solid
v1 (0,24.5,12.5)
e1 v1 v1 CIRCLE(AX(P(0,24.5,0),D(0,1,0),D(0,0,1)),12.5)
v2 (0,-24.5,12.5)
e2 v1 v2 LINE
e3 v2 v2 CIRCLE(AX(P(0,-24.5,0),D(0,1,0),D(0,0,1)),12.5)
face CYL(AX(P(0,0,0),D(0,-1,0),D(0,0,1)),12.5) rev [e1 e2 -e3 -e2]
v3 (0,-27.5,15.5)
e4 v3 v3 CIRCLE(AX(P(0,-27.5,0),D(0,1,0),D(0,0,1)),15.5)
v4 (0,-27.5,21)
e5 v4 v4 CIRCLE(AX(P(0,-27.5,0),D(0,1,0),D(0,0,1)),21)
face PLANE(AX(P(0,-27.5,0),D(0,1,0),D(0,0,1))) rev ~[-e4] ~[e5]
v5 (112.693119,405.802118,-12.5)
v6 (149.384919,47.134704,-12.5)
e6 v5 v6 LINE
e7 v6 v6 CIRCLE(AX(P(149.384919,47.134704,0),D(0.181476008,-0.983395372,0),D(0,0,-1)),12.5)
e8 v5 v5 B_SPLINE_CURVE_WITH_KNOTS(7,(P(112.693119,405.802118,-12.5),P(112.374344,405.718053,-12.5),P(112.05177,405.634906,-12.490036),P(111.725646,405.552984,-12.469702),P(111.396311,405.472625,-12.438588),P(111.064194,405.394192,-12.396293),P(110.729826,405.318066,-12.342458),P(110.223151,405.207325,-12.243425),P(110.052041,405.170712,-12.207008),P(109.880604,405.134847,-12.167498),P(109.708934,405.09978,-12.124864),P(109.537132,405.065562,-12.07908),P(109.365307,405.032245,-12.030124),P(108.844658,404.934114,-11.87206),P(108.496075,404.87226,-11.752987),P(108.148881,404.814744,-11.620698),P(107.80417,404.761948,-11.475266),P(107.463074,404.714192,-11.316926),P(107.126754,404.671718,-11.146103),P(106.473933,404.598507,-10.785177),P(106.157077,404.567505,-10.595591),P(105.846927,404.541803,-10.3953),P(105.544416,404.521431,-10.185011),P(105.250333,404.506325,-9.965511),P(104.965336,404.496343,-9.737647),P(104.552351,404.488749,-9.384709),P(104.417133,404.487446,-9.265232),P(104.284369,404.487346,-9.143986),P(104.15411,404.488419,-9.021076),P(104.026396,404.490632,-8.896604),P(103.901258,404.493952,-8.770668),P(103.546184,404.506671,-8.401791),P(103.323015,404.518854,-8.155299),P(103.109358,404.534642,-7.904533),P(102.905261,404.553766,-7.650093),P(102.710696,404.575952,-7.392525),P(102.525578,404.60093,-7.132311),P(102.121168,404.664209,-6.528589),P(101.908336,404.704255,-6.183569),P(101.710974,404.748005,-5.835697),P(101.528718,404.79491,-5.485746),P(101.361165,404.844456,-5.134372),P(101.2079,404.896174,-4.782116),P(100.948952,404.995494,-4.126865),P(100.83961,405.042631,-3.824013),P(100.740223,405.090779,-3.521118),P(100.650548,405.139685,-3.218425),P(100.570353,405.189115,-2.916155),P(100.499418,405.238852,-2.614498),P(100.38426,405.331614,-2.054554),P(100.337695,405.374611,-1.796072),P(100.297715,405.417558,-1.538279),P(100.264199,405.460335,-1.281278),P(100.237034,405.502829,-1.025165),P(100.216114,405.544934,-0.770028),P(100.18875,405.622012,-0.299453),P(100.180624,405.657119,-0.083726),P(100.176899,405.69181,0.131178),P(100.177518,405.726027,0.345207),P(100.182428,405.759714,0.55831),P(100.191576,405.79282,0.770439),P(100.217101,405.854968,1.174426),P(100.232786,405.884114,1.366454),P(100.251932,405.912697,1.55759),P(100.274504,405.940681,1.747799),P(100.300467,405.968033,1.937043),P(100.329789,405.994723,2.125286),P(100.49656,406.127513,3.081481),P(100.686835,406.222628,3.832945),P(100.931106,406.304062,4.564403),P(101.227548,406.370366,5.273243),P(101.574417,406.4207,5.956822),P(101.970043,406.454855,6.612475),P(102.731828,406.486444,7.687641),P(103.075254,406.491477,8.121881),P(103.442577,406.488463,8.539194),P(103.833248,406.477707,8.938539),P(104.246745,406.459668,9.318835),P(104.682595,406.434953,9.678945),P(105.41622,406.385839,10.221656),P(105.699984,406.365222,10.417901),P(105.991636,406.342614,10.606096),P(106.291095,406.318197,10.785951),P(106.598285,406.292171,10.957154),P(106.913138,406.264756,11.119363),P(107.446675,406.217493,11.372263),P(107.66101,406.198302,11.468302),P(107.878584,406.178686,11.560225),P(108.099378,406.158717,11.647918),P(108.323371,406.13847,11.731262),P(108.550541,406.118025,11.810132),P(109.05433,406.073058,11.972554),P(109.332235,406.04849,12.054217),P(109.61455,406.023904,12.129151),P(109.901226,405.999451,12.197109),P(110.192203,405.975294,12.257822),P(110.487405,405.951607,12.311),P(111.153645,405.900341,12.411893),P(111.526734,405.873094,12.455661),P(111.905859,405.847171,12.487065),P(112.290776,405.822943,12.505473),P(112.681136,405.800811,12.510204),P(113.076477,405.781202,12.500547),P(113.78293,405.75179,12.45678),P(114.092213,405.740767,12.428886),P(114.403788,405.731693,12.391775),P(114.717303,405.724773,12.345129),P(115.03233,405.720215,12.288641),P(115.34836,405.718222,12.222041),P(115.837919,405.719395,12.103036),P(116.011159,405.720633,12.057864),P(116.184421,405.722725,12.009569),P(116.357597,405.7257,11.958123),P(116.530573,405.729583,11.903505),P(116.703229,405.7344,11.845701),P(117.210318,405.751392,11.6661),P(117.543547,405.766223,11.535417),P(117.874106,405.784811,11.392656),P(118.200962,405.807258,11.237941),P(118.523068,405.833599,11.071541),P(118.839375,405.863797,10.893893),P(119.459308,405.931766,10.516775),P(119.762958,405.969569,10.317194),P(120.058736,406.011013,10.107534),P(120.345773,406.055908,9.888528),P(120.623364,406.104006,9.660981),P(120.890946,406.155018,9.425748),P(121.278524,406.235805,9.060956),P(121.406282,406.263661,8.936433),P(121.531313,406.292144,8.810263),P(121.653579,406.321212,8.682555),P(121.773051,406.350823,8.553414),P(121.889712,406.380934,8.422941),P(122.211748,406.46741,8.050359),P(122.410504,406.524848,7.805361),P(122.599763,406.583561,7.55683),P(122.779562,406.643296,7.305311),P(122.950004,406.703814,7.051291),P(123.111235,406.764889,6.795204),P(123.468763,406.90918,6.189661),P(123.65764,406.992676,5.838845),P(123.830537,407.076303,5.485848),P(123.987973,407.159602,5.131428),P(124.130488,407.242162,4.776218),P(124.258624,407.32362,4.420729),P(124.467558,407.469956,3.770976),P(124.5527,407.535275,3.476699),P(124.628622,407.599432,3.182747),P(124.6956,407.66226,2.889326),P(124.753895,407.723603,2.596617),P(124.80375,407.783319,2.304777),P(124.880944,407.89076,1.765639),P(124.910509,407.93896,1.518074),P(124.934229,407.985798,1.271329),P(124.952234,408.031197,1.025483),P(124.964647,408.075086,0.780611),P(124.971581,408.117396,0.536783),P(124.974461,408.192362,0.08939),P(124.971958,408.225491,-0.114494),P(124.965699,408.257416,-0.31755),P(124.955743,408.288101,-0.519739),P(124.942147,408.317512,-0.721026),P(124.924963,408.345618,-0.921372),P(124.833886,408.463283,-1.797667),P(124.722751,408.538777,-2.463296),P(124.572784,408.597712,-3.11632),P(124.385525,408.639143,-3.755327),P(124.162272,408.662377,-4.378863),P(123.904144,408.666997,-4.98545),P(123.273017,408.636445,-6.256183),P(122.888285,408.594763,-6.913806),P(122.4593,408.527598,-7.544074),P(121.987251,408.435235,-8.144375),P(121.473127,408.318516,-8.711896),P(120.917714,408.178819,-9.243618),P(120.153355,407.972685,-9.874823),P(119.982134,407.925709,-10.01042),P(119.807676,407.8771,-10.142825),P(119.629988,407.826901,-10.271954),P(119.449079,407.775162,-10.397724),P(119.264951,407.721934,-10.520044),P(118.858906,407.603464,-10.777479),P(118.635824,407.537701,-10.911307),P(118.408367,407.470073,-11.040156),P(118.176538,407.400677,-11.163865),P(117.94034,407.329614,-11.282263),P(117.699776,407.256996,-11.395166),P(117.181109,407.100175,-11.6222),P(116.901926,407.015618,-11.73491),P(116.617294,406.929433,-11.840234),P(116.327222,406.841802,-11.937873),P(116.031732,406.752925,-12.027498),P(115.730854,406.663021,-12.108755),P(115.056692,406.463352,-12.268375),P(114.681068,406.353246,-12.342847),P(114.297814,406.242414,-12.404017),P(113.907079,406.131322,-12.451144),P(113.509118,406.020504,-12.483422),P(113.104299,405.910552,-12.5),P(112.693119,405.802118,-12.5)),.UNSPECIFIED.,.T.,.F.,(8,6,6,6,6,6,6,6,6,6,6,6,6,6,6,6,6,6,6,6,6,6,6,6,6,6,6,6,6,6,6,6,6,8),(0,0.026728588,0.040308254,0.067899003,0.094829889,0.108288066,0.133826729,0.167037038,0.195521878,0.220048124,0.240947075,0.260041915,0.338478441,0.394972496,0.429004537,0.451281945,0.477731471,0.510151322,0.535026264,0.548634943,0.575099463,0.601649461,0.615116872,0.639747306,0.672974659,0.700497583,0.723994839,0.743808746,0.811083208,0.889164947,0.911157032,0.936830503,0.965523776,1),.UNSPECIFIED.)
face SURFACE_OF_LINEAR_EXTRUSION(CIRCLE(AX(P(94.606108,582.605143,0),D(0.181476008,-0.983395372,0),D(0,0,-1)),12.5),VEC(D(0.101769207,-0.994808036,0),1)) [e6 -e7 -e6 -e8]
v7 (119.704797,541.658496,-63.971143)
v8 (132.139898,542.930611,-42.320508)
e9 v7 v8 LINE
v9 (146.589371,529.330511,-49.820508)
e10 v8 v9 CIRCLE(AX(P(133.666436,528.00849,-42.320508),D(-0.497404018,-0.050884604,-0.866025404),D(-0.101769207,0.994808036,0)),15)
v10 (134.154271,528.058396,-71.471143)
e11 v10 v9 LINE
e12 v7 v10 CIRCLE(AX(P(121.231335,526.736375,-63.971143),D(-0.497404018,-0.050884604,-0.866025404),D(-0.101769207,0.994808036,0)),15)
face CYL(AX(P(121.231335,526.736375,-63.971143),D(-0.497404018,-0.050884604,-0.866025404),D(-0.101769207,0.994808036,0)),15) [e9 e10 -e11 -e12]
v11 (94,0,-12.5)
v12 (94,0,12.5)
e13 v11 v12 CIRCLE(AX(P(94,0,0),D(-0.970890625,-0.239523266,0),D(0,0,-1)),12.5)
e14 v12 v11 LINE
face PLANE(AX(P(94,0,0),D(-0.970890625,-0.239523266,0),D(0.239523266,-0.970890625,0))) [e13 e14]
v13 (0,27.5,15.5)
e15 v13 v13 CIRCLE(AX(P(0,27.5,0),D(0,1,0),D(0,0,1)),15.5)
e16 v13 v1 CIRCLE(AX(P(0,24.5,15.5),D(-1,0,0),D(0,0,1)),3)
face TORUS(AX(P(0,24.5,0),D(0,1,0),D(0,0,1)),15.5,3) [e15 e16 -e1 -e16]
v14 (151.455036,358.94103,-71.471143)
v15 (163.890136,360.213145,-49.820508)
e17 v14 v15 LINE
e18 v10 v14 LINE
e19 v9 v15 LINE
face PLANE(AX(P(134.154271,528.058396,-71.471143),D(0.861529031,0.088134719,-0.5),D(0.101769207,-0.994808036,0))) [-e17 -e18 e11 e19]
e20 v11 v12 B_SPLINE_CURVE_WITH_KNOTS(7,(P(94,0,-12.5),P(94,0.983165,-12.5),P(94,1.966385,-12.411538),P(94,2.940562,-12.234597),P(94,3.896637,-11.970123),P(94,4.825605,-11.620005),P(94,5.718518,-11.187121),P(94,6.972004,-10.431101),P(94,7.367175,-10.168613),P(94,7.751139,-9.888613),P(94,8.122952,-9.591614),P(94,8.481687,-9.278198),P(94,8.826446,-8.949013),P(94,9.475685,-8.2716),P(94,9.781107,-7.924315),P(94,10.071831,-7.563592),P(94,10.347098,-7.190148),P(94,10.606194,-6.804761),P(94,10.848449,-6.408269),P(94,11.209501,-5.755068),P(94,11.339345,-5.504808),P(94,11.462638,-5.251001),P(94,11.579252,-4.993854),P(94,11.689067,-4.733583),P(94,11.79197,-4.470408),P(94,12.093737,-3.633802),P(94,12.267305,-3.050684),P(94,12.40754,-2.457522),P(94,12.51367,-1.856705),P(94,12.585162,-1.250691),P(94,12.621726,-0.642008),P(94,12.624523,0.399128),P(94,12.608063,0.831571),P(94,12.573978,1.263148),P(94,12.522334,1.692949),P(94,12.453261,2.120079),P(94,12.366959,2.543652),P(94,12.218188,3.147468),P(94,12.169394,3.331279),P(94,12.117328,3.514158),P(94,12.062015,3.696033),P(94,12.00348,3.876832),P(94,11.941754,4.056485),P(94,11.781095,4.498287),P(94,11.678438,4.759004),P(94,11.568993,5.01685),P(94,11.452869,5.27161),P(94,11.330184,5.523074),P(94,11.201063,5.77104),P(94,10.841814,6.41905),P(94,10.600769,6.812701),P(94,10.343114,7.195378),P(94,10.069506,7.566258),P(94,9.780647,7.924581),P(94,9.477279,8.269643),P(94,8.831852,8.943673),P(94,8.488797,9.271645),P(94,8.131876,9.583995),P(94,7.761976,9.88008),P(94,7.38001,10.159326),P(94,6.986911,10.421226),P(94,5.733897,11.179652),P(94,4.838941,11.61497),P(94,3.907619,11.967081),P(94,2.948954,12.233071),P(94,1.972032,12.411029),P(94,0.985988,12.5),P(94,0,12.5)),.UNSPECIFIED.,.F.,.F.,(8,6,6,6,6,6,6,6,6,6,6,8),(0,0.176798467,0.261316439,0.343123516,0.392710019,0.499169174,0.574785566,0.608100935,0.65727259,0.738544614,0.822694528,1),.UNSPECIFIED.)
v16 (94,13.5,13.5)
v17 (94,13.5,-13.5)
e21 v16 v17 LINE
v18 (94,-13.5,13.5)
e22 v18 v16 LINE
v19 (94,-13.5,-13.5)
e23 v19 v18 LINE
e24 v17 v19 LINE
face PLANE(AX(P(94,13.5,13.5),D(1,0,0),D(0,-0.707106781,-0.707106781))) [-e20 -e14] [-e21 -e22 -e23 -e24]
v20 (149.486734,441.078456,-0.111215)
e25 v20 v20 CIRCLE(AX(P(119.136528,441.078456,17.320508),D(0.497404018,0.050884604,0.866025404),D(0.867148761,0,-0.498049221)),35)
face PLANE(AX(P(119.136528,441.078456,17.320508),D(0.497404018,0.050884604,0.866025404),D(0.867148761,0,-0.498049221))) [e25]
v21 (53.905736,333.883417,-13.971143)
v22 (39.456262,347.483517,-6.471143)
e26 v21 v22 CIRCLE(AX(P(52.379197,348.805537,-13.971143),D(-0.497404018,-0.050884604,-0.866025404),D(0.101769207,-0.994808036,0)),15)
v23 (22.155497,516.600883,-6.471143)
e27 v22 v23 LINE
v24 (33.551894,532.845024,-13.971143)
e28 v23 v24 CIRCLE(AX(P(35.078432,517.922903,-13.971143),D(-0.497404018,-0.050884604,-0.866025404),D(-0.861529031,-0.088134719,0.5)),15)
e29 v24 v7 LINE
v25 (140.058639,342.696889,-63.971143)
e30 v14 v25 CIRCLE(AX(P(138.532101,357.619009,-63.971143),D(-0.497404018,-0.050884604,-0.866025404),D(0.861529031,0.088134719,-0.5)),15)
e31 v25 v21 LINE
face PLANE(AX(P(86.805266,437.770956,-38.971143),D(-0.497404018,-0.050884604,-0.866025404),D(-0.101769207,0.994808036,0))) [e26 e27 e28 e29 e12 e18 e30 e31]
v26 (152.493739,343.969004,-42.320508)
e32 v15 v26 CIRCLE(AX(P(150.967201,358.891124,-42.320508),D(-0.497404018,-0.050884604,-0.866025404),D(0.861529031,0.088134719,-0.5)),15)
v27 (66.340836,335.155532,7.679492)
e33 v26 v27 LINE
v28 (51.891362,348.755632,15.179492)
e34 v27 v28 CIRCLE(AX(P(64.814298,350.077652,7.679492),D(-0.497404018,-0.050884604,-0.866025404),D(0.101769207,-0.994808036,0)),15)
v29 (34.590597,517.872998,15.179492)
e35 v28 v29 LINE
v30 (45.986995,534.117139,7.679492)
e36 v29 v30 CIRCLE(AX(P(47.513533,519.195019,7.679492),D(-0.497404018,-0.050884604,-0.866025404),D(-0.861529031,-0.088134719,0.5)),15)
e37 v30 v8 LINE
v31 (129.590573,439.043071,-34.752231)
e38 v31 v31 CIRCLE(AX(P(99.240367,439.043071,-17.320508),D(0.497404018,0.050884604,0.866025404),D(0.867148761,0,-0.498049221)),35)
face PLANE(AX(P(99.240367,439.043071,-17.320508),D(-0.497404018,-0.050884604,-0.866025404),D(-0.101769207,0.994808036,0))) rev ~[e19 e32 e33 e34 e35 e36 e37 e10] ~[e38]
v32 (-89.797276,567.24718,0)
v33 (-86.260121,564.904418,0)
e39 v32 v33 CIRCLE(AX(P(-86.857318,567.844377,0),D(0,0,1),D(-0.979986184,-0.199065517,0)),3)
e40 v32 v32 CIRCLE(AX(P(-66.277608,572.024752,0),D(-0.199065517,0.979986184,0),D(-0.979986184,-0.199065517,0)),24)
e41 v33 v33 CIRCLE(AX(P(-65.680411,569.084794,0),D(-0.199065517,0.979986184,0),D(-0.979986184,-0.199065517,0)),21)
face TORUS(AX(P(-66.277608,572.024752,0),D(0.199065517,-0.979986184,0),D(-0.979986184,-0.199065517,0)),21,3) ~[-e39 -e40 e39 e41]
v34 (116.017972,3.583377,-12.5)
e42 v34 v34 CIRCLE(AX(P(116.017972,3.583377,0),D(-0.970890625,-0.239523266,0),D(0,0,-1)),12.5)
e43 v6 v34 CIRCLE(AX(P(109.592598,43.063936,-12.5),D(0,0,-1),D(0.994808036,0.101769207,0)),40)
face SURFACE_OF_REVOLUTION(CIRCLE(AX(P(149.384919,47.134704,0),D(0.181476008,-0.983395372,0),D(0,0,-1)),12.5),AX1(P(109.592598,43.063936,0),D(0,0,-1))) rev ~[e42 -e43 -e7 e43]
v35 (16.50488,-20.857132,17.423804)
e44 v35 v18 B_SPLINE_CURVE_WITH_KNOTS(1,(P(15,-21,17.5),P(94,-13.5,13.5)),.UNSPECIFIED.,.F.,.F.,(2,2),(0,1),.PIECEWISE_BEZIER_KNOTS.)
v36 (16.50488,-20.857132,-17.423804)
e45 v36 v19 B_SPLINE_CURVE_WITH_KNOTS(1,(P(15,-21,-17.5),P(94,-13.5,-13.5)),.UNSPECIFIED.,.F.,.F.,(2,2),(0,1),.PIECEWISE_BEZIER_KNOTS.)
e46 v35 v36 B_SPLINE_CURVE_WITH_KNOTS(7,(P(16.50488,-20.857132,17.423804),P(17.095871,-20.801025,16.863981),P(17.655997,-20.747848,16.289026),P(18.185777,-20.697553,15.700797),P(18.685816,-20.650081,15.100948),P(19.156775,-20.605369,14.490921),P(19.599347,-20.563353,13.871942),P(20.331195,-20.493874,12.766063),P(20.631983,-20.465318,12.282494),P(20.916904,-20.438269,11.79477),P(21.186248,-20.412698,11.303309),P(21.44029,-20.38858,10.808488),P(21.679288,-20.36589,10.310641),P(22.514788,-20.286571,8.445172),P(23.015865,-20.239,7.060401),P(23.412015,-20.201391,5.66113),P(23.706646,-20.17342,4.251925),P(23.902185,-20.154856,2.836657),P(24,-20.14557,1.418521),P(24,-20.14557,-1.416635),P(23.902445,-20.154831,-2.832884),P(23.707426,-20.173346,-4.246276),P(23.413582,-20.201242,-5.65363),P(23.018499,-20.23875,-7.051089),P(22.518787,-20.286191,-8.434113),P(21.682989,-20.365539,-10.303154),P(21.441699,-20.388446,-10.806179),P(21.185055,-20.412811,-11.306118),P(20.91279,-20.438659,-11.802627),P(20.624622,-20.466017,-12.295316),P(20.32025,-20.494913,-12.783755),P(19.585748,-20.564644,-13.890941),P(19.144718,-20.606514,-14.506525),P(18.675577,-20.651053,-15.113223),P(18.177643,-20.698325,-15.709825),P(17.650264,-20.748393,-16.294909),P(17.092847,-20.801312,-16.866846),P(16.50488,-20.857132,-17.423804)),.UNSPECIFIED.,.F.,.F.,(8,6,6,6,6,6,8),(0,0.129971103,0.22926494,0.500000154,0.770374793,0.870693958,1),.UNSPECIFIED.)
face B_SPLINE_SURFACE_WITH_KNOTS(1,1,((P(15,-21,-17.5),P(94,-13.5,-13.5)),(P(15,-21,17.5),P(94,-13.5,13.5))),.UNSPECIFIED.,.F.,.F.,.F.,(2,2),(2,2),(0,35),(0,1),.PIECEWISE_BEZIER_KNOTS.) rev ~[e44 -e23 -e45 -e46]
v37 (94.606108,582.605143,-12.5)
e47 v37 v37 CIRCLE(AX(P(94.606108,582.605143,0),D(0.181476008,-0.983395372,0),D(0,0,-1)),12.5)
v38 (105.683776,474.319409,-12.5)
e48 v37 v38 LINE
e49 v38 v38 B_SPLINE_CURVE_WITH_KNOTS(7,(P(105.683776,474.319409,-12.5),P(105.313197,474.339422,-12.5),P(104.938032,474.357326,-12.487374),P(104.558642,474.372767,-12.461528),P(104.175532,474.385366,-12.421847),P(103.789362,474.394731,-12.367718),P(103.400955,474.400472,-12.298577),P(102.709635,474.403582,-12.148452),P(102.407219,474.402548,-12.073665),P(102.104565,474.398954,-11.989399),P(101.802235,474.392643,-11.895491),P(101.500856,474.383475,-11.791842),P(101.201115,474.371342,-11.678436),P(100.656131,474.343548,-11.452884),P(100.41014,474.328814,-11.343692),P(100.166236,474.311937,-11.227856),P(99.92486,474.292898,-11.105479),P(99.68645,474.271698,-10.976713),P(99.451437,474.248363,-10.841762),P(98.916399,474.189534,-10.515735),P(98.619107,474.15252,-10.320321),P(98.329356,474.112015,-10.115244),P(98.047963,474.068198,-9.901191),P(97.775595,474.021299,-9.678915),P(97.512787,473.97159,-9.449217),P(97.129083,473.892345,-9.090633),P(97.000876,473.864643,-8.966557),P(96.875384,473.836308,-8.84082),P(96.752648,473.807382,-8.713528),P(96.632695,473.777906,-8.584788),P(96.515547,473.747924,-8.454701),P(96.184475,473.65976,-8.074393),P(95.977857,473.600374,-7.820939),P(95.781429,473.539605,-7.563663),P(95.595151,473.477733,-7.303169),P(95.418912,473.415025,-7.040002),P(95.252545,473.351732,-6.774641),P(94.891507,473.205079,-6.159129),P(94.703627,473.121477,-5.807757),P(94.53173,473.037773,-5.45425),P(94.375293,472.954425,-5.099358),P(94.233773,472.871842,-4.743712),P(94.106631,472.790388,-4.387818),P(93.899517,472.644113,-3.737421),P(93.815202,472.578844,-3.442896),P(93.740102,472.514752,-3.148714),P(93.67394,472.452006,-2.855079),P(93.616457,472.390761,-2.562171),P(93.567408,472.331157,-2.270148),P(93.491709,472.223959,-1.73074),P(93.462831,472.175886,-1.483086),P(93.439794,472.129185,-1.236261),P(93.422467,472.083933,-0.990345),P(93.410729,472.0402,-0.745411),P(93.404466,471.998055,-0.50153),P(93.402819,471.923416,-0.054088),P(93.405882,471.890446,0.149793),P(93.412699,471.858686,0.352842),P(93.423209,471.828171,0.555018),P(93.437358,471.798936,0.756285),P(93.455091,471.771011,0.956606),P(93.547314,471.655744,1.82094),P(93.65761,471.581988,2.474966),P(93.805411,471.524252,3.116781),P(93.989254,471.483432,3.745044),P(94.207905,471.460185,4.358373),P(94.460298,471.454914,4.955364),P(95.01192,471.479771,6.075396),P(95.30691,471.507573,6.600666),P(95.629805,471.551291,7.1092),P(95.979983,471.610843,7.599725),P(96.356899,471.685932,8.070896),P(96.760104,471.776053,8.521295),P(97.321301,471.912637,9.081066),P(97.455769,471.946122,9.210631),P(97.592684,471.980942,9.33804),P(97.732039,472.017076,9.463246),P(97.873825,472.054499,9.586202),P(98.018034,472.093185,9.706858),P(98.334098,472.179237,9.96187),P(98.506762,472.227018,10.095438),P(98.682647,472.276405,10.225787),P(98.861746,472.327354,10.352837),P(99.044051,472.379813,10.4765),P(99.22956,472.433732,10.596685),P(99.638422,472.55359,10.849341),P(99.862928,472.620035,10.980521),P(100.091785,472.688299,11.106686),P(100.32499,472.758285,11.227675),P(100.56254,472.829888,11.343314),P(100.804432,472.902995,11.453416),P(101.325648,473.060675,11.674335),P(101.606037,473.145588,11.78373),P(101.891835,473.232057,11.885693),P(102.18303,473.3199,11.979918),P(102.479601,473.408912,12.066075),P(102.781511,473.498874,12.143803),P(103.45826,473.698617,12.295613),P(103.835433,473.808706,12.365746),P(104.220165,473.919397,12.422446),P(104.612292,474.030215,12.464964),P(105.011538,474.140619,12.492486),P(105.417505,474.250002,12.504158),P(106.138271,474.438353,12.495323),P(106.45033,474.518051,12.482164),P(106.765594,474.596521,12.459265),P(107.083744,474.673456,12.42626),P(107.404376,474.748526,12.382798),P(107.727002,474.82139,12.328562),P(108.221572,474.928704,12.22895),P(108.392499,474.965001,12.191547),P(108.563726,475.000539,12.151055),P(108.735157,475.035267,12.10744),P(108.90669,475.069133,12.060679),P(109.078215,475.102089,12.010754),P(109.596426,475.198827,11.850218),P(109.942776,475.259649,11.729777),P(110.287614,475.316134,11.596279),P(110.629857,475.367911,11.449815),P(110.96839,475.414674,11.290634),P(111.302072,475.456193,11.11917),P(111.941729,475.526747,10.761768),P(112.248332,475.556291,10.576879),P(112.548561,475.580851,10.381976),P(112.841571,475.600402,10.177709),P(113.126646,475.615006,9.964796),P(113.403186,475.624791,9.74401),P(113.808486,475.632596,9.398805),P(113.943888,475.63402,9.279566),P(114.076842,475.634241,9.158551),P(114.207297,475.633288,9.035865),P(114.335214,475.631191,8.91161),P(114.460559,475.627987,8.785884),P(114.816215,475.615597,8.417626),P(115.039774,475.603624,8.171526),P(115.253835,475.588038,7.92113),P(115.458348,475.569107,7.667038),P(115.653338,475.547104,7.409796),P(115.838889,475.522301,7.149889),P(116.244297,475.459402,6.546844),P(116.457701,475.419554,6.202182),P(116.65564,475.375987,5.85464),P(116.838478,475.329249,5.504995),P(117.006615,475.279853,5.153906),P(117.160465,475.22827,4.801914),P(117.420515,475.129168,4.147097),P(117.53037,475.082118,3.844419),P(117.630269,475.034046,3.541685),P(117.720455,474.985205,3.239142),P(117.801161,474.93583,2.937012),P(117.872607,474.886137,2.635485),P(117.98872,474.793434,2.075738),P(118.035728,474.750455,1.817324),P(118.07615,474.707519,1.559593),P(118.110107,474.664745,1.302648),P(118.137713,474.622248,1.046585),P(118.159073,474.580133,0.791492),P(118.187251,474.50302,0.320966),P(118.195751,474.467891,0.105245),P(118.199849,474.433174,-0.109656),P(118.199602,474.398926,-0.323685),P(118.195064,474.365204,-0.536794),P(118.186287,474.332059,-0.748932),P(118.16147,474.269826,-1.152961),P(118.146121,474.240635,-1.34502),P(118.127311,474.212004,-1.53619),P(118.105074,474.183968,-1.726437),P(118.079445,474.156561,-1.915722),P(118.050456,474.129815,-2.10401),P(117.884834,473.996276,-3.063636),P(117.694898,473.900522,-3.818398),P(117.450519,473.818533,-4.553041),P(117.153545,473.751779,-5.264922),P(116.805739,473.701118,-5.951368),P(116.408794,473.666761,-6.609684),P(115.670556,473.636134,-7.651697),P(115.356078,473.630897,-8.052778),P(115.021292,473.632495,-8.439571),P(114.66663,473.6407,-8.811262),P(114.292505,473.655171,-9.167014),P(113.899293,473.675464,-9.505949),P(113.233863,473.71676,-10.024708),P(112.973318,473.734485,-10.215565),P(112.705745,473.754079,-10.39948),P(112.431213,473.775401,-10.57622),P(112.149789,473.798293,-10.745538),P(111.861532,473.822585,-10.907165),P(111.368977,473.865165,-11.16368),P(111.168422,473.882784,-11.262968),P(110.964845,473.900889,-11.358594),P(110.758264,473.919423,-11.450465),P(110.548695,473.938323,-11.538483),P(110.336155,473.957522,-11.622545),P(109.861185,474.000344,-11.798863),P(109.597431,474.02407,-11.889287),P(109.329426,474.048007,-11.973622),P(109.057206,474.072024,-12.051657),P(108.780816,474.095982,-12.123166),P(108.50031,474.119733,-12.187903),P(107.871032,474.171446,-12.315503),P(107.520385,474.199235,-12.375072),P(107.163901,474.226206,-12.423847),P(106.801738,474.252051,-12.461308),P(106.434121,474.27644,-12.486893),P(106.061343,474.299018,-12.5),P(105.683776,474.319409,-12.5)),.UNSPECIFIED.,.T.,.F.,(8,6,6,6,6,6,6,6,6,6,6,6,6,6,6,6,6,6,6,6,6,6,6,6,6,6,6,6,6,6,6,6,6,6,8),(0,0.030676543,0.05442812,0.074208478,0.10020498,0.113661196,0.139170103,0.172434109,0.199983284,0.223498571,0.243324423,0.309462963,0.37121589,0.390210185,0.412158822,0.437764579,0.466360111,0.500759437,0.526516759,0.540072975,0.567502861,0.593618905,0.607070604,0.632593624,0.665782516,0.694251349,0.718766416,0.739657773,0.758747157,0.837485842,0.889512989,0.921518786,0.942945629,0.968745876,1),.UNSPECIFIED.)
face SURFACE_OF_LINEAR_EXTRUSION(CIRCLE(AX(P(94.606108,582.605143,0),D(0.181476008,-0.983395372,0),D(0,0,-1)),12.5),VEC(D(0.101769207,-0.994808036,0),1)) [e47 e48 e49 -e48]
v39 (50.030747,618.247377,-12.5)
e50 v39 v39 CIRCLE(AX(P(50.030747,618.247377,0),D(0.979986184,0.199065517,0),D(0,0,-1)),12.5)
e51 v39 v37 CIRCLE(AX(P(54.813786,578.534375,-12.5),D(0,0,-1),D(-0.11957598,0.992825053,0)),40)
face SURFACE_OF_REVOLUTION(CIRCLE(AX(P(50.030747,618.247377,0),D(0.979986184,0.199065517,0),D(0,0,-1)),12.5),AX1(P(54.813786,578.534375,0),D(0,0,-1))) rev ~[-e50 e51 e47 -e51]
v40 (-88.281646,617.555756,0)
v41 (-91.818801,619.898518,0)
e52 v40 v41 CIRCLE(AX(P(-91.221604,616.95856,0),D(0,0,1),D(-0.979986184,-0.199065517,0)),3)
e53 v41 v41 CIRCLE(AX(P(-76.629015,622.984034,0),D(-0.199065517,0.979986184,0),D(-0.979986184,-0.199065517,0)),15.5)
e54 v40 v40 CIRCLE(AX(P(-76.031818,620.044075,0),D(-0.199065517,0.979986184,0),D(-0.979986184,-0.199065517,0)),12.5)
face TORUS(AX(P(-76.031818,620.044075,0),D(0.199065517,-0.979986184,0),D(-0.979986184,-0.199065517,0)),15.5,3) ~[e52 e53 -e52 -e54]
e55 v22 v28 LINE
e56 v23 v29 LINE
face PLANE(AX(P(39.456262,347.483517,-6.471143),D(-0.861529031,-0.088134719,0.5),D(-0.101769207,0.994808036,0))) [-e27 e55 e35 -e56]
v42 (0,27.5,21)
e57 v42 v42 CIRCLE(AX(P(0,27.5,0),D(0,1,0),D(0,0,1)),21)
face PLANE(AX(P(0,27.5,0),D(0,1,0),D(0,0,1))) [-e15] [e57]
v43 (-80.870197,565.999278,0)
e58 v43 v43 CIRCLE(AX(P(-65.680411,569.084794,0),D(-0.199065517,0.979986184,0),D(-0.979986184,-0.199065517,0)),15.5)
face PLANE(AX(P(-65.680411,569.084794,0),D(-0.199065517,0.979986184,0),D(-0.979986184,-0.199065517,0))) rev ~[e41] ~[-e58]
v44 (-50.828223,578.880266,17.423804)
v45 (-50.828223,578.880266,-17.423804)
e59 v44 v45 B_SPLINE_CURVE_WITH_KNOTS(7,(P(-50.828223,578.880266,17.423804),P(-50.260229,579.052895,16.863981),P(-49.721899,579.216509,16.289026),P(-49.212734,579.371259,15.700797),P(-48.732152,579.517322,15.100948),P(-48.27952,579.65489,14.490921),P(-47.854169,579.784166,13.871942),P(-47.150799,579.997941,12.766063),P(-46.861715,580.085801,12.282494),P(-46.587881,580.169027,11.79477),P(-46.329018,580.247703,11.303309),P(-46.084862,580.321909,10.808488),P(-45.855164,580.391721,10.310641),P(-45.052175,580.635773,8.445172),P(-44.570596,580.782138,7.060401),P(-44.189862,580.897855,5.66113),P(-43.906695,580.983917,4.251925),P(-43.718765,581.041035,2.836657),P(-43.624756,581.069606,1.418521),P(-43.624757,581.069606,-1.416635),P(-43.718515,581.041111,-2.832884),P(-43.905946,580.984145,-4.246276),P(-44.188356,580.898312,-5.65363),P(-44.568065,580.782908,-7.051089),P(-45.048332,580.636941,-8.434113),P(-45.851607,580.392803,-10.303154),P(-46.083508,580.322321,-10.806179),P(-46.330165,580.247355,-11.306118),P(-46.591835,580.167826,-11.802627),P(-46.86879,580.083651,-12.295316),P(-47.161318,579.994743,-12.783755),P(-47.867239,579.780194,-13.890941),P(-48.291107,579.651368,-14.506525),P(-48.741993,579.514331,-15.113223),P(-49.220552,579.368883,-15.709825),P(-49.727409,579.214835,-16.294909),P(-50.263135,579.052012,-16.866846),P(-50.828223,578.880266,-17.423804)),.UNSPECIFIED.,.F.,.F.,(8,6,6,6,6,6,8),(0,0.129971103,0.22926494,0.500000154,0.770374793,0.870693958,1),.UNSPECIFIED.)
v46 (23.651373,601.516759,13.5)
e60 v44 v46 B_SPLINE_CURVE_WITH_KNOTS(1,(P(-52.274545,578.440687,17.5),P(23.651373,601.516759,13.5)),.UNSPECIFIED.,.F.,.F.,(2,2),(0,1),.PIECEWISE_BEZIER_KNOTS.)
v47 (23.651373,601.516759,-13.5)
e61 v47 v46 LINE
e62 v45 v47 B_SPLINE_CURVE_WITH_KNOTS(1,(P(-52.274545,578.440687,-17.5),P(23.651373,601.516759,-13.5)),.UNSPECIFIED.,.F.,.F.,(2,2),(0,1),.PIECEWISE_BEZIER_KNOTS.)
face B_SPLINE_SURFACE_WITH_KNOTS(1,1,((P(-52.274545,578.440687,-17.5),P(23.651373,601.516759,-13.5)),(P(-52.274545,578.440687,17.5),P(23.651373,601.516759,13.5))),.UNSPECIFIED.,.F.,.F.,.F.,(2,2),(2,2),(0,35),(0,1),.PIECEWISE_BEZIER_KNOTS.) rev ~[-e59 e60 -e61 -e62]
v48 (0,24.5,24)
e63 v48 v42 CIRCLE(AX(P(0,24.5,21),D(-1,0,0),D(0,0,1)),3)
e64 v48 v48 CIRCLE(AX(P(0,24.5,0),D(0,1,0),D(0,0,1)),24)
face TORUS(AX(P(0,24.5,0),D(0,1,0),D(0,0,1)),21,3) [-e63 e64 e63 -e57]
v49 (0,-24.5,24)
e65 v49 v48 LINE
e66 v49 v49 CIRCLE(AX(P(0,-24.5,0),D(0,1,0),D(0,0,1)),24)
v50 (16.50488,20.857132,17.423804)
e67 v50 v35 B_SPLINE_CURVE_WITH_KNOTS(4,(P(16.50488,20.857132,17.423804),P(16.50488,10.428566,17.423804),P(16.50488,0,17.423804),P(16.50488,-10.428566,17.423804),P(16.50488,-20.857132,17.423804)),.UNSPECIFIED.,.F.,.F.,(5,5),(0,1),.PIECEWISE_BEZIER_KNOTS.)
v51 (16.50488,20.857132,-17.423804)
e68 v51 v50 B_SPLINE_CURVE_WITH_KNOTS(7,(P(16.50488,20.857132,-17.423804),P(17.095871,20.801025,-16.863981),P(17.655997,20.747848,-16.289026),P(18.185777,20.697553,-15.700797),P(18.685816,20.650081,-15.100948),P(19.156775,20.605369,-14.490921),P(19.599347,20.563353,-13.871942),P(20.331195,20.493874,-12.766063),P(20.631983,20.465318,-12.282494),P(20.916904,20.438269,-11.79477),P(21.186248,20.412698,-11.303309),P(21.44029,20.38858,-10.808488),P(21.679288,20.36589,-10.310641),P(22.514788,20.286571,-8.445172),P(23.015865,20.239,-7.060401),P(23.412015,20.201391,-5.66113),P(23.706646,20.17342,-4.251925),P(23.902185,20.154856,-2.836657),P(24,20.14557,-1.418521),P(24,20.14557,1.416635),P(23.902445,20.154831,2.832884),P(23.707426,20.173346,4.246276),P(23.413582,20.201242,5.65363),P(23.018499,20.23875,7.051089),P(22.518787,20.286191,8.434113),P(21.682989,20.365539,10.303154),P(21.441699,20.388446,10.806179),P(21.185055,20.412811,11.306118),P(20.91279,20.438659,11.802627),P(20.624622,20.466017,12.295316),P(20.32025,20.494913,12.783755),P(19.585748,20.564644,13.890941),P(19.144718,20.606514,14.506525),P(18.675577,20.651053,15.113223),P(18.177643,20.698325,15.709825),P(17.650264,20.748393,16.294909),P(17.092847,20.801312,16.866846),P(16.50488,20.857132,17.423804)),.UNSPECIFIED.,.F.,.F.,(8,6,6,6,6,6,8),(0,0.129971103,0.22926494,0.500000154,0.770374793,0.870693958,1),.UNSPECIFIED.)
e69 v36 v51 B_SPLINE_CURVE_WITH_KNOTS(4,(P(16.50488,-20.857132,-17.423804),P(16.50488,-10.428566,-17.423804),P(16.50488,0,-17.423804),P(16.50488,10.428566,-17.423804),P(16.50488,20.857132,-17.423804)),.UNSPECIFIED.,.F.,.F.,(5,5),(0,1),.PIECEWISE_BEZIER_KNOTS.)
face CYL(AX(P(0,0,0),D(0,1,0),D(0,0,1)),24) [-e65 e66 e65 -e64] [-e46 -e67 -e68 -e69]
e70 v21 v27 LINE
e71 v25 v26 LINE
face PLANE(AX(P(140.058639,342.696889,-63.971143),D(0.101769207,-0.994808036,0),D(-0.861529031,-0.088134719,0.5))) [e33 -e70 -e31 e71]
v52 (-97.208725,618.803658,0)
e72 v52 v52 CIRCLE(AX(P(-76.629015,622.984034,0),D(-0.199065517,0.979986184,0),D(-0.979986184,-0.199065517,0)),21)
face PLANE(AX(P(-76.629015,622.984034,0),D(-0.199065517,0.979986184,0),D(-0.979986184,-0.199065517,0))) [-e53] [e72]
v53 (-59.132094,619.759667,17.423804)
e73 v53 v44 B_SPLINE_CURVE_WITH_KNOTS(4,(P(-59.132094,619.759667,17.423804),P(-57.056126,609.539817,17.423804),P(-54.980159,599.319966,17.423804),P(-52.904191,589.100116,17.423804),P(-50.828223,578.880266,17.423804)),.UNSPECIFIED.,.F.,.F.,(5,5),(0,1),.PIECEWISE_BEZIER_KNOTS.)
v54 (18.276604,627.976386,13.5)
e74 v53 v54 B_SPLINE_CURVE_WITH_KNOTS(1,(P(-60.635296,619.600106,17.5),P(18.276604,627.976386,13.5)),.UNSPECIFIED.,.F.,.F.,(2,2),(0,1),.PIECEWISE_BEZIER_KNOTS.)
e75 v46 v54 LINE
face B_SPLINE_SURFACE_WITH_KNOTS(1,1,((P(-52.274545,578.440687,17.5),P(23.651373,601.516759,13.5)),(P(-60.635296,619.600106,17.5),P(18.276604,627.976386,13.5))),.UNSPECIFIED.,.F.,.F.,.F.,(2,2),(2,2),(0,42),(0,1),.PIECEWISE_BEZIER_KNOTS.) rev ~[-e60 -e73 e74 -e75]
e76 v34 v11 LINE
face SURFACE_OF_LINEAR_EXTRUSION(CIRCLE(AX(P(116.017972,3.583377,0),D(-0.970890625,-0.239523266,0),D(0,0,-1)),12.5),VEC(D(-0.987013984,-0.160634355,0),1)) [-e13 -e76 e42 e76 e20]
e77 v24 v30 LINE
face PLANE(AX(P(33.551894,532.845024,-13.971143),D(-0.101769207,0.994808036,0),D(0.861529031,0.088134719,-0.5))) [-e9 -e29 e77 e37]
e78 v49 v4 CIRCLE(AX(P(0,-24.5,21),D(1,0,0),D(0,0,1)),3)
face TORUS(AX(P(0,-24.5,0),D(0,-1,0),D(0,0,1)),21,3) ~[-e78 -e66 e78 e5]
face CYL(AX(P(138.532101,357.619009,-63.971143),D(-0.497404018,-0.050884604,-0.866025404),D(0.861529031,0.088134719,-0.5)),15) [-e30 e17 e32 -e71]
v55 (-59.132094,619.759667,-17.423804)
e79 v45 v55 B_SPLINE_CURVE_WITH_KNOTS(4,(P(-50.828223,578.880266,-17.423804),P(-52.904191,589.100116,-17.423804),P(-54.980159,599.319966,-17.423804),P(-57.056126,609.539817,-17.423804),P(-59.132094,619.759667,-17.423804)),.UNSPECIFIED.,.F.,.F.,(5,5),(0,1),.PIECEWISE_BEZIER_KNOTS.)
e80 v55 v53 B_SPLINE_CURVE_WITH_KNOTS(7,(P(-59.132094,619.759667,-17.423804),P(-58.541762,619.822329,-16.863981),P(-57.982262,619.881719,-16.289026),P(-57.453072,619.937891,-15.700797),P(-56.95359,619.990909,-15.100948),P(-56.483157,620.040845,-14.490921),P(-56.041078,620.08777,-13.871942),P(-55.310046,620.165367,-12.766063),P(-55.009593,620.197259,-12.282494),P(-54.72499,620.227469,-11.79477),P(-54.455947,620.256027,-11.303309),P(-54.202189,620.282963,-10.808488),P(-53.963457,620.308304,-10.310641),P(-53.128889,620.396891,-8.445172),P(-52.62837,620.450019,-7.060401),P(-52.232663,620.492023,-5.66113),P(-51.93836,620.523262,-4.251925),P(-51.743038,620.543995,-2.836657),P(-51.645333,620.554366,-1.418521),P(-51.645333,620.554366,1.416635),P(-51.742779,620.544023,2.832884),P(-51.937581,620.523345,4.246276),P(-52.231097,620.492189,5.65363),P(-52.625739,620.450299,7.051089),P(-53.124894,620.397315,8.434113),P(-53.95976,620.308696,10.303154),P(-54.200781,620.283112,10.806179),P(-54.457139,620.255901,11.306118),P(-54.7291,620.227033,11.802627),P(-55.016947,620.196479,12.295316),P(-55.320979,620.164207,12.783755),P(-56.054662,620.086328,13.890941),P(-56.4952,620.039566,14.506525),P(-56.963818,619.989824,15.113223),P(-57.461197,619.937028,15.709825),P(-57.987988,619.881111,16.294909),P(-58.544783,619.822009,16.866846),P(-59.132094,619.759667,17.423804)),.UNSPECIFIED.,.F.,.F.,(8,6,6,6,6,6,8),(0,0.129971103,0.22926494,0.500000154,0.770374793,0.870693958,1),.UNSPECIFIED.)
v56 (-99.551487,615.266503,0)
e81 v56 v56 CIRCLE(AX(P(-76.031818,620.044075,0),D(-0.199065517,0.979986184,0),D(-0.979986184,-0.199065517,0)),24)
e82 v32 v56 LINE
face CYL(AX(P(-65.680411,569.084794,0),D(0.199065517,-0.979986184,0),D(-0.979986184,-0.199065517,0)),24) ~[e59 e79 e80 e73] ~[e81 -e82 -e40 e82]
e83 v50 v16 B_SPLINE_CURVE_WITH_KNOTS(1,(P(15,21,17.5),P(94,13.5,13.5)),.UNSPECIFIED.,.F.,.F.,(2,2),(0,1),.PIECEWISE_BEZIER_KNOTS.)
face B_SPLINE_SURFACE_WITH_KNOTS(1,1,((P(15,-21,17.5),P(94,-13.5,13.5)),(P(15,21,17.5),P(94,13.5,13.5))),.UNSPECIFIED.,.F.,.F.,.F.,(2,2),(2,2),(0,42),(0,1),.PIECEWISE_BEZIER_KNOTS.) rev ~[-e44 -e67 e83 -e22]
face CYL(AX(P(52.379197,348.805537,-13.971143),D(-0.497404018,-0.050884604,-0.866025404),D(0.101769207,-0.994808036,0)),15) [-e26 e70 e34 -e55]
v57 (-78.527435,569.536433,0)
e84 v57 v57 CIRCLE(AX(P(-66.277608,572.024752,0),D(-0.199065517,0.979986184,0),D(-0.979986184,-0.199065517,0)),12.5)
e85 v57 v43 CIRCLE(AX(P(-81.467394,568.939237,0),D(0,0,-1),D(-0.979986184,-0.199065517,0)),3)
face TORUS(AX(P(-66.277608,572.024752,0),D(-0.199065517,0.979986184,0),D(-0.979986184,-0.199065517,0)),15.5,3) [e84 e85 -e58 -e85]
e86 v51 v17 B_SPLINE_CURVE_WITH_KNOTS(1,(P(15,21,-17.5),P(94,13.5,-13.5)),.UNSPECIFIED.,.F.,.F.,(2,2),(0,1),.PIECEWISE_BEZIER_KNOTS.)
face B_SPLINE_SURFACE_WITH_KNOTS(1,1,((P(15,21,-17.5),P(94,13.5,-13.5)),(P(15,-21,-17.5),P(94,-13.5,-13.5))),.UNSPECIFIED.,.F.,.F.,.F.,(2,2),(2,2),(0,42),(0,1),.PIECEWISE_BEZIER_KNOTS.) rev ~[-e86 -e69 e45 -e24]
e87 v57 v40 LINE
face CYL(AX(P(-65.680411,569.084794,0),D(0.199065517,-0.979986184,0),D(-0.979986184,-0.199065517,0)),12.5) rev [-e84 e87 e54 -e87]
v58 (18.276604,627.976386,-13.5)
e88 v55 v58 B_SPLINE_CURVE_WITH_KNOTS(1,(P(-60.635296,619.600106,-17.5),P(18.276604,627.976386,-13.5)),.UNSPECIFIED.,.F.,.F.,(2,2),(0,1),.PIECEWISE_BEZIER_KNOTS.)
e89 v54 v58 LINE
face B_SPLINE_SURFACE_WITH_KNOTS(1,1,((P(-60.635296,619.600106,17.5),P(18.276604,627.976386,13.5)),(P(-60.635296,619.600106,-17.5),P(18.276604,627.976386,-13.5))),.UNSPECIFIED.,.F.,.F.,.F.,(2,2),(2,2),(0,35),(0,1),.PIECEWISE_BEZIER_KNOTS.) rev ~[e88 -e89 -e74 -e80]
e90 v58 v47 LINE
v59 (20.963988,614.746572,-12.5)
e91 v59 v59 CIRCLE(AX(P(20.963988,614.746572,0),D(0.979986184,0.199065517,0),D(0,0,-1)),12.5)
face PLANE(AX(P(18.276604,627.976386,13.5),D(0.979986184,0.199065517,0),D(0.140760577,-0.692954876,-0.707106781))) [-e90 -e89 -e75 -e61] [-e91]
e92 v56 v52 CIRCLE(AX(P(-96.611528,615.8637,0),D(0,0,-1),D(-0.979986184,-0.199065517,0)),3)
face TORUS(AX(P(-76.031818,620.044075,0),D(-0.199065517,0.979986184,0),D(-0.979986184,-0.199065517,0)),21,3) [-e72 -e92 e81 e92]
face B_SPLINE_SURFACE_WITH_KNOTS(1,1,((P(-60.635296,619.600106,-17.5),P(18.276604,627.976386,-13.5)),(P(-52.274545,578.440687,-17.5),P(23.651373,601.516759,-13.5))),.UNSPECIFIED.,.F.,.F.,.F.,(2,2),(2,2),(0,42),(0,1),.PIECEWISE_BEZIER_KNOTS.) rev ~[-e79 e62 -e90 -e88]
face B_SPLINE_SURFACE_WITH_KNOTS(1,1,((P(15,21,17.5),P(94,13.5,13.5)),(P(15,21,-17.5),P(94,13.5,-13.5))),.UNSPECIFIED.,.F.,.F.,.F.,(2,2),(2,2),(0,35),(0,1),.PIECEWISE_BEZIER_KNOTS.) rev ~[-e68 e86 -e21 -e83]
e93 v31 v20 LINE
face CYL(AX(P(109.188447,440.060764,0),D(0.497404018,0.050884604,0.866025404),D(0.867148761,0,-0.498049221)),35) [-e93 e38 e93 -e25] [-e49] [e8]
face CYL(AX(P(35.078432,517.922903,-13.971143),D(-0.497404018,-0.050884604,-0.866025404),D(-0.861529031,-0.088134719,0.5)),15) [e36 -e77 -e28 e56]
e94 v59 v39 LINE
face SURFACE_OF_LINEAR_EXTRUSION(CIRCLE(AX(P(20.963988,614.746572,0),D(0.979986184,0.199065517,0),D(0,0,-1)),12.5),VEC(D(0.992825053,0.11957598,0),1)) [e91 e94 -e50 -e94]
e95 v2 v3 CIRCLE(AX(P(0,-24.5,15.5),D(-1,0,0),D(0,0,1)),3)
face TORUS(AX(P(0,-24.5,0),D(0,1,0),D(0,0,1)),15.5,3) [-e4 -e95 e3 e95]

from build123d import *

# Parameters (mm, degrees)
SKETCH1_R           = 24
SKETCH1_R_2         = 12.5
BOSS_EXTRUDE1_DEPTH = 27.5
FILLET1_R           = 3
SKETCH8_R           = 24
SKETCH8_R_2         = 12.5
BOSS_EXTRUDE2_DEPTH = 55
FILLET2_R           = 3
SKETCH17_R          = 12.5
SKETCH20_R          = 35
BOSS_EXTRUDE5_DEPTH = 20
BOSS_EXTRUDE6_DEPTH = 25


with BuildPart() as part:
    # Sketch1 → Boss-Extrude1 (new, symmetric)
    with BuildSketch(Plane(origin=(0, 0, 0), x_dir=(1, 0, 0), z_dir=(0, 1, 0))):
        with Locations(Location((0, 0, 0), (0, 0, 270))):
            Circle(SKETCH1_R)
        with Locations(Location((0, 0, 0), (0, 0, 270))):
            Circle(SKETCH1_R_2, mode=Mode.SUBTRACT)
    extrude(amount=BOSS_EXTRUDE1_DEPTH, both=True)

    # Fillet1
    fillet1_edges = [part.edges().sort_by_distance(p)[0] for p in [
        (0, -27.5, -24),
        (0, 27.5, -24),
        (0, -27.5, -12.5),
        (0, 27.5, -12.5),
    ]]
    fillet(fillet1_edges, radius=FILLET1_R)

    # Sketch4 → Loft1 section 0
    with BuildSketch(Plane(origin=(15, 0, 0), x_dir=(0, 0, -1), z_dir=(1, 0, 0))):
        with BuildLine():
            Line((-17.5, 21), (17.5, 21))
            Line((17.5, 21), (17.5, -21))
            Line((17.5, -21), (-17.5, -21))
            Line((-17.5, -21), (-17.5, 21))
        make_face()
    # Sketch11 → Loft1 section 1
    with BuildSketch(Plane(origin=(94, 0, 0), x_dir=(0, 0, -1), z_dir=(1, 0, 0))):
        with BuildLine():
            Line((-13.5, 13.5), (13.5, 13.5))
            Line((13.5, 13.5), (13.5, -13.5))
            Line((13.5, -13.5), (-13.5, -13.5))
            Line((-13.5, -13.5), (-13.5, 13.5))
        make_face()
    loft()



with BuildPart() as body_2:
    # Sketch8 → Boss-Extrude2 (new body)
    with BuildSketch(Plane(origin=(-65.680411397, 569.084793841, 0), x_dir=(0.979986183571971, 0.19906551687332288, 0), z_dir=(-0.19906551687332288, 0.979986183571971, 0))):
        with Locations(Location((0, 0, 0), (0, 0, 180))):
            Circle(SKETCH8_R)
        with Locations(Location((0, 0, 0), (0, 0, 180))):
            Circle(SKETCH8_R_2, mode=Mode.SUBTRACT)
    extrude(amount=BOSS_EXTRUDE2_DEPTH)

    # Fillet2
    fillet2_edges = [body_2.edges().sort_by_distance(p)[0] for p in [
        (-42.160742991, 573.862366246, 0),
        (-53.109346419, 627.761606342, 0),
        (-53.430584102, 571.573112802, 0),
        (-64.37918753, 625.472352898, 0),
    ]]
    fillet(fillet2_edges, radius=FILLET2_R)

    # Sketch14 → Loft2 section 0
    with BuildSketch(Plane(origin=(62.639994536, 12.724121113, 0), x_dir=(0, 0, -1), z_dir=(0.9799861835719711, 0.19906551687332286, 0))):
        with BuildLine():
            Line((-17.5, 619.269940288), (17.5, 619.269940288))
            Line((17.5, 619.269940288), (17.5, 577.269940288))
            Line((17.5, 577.269940288), (-17.5, 577.269940288))
            Line((-17.5, 577.269940288), (-17.5, 619.269940288))
        make_face()
    # Sketch15 → Loft2 section 1
    with BuildSketch(Plane(origin=(20.963988145, 614.746572475, 0), x_dir=(0, 0, -1), z_dir=(0.979986183571971, 0.19906551687332316, 0))):
        with BuildLine():
            Line((-13.5, 13.5), (13.5, 13.5))
            Line((13.5, 13.5), (13.5, -13.5))
            Line((13.5, -13.5), (-13.5, -13.5))
            Line((-13.5, -13.5), (-13.5, 13.5))
        make_face()
    loft()


with BuildPart() as part_1:
    add(part.part)

    add(body_2.part)  # Sweep2 merges body 2
    # Sweep2: sweep along a path in Sketch16
    with BuildLine(Plane.XY) as sweep2_path:
        Line((20.963988145, 614.746572475), (50.030747064, 618.247376756))
        ThreePointArc((50.030747064, 618.247376756), (79.79387171, 609.775298646), (94.606107718, 582.605142948))
        Line((94.606107718, 582.605142948), (149.384919441, 47.134704187))
        ThreePointArc((149.384919441, 47.134704187), (141.344737808, 18.736962845), (116.017972197, 3.583376546))
        Line((116.017972197, 3.583376546), (94, 0))
    # Sketch17 → Sweep2 (sweep)
    with BuildSketch(Plane(origin=(140.058903038, 28.450296946, 0), x_dir=(0, 0, -1), z_dir=(0.9799861835719709, 0.1990655168733233, 0))):
        with Locations((0, 598.269940288)):
            Circle(SKETCH17_R)
    sweep(path=sweep2_path.line)

    # Sketch20 → Boss-Extrude5 (add, symmetric)
    with BuildSketch(Plane(origin=(38.152425107, 3.903006329, 66.426824401), x_dir=(0.10176920733394475, -0.9948080359740872, 0), z_dir=(0.49740401798703254, 0.05088460366697124, 0.866025403784445))):
        with Locations(Location((-426.663962146, 132.853648801, 0), (0, 0, 84.937116254))):
            Circle(SKETCH20_R)
    extrude(amount=BOSS_EXTRUDE5_DEPTH, both=True)

    # Sketch19 → Boss-Extrude6 (add)
    with BuildSketch(Plane(origin=(15.769244298, 1.613199164, 27.45568123), x_dir=(0.10176920733394475, -0.9948080359740872, 0), z_dir=(0.49740401798703254, 0.05088460366697124, 0.866025403784445))):
        with BuildLine():
            Line((-511.663962146, 197.853648801), (-341.663962146, 197.853648801))
            ThreePointArc((-341.663962146, 197.853648801), (-331.057360428, 193.460250519), (-326.663962146, 182.853648801))
            Line((-326.663962146, 182.853648801), (-326.663962146, 82.853648801))
            ThreePointArc((-326.663962146, 82.853648801), (-331.057360428, 72.247047083), (-341.663962146, 67.853648801))
            Line((-341.663962146, 67.853648801), (-511.663962146, 67.853648801))
            ThreePointArc((-511.663962146, 67.853648801), (-522.270563864, 72.247047083), (-526.663962146, 82.853648801))
            Line((-526.663962146, 82.853648801), (-526.663962146, 182.853648801))
            ThreePointArc((-526.663962146, 182.853648801), (-522.270563864, 193.460250519), (-511.663962146, 197.853648801))
        make_face()
    extrude(amount=BOSS_EXTRUDE6_DEPTH)


solid = part_1.part
